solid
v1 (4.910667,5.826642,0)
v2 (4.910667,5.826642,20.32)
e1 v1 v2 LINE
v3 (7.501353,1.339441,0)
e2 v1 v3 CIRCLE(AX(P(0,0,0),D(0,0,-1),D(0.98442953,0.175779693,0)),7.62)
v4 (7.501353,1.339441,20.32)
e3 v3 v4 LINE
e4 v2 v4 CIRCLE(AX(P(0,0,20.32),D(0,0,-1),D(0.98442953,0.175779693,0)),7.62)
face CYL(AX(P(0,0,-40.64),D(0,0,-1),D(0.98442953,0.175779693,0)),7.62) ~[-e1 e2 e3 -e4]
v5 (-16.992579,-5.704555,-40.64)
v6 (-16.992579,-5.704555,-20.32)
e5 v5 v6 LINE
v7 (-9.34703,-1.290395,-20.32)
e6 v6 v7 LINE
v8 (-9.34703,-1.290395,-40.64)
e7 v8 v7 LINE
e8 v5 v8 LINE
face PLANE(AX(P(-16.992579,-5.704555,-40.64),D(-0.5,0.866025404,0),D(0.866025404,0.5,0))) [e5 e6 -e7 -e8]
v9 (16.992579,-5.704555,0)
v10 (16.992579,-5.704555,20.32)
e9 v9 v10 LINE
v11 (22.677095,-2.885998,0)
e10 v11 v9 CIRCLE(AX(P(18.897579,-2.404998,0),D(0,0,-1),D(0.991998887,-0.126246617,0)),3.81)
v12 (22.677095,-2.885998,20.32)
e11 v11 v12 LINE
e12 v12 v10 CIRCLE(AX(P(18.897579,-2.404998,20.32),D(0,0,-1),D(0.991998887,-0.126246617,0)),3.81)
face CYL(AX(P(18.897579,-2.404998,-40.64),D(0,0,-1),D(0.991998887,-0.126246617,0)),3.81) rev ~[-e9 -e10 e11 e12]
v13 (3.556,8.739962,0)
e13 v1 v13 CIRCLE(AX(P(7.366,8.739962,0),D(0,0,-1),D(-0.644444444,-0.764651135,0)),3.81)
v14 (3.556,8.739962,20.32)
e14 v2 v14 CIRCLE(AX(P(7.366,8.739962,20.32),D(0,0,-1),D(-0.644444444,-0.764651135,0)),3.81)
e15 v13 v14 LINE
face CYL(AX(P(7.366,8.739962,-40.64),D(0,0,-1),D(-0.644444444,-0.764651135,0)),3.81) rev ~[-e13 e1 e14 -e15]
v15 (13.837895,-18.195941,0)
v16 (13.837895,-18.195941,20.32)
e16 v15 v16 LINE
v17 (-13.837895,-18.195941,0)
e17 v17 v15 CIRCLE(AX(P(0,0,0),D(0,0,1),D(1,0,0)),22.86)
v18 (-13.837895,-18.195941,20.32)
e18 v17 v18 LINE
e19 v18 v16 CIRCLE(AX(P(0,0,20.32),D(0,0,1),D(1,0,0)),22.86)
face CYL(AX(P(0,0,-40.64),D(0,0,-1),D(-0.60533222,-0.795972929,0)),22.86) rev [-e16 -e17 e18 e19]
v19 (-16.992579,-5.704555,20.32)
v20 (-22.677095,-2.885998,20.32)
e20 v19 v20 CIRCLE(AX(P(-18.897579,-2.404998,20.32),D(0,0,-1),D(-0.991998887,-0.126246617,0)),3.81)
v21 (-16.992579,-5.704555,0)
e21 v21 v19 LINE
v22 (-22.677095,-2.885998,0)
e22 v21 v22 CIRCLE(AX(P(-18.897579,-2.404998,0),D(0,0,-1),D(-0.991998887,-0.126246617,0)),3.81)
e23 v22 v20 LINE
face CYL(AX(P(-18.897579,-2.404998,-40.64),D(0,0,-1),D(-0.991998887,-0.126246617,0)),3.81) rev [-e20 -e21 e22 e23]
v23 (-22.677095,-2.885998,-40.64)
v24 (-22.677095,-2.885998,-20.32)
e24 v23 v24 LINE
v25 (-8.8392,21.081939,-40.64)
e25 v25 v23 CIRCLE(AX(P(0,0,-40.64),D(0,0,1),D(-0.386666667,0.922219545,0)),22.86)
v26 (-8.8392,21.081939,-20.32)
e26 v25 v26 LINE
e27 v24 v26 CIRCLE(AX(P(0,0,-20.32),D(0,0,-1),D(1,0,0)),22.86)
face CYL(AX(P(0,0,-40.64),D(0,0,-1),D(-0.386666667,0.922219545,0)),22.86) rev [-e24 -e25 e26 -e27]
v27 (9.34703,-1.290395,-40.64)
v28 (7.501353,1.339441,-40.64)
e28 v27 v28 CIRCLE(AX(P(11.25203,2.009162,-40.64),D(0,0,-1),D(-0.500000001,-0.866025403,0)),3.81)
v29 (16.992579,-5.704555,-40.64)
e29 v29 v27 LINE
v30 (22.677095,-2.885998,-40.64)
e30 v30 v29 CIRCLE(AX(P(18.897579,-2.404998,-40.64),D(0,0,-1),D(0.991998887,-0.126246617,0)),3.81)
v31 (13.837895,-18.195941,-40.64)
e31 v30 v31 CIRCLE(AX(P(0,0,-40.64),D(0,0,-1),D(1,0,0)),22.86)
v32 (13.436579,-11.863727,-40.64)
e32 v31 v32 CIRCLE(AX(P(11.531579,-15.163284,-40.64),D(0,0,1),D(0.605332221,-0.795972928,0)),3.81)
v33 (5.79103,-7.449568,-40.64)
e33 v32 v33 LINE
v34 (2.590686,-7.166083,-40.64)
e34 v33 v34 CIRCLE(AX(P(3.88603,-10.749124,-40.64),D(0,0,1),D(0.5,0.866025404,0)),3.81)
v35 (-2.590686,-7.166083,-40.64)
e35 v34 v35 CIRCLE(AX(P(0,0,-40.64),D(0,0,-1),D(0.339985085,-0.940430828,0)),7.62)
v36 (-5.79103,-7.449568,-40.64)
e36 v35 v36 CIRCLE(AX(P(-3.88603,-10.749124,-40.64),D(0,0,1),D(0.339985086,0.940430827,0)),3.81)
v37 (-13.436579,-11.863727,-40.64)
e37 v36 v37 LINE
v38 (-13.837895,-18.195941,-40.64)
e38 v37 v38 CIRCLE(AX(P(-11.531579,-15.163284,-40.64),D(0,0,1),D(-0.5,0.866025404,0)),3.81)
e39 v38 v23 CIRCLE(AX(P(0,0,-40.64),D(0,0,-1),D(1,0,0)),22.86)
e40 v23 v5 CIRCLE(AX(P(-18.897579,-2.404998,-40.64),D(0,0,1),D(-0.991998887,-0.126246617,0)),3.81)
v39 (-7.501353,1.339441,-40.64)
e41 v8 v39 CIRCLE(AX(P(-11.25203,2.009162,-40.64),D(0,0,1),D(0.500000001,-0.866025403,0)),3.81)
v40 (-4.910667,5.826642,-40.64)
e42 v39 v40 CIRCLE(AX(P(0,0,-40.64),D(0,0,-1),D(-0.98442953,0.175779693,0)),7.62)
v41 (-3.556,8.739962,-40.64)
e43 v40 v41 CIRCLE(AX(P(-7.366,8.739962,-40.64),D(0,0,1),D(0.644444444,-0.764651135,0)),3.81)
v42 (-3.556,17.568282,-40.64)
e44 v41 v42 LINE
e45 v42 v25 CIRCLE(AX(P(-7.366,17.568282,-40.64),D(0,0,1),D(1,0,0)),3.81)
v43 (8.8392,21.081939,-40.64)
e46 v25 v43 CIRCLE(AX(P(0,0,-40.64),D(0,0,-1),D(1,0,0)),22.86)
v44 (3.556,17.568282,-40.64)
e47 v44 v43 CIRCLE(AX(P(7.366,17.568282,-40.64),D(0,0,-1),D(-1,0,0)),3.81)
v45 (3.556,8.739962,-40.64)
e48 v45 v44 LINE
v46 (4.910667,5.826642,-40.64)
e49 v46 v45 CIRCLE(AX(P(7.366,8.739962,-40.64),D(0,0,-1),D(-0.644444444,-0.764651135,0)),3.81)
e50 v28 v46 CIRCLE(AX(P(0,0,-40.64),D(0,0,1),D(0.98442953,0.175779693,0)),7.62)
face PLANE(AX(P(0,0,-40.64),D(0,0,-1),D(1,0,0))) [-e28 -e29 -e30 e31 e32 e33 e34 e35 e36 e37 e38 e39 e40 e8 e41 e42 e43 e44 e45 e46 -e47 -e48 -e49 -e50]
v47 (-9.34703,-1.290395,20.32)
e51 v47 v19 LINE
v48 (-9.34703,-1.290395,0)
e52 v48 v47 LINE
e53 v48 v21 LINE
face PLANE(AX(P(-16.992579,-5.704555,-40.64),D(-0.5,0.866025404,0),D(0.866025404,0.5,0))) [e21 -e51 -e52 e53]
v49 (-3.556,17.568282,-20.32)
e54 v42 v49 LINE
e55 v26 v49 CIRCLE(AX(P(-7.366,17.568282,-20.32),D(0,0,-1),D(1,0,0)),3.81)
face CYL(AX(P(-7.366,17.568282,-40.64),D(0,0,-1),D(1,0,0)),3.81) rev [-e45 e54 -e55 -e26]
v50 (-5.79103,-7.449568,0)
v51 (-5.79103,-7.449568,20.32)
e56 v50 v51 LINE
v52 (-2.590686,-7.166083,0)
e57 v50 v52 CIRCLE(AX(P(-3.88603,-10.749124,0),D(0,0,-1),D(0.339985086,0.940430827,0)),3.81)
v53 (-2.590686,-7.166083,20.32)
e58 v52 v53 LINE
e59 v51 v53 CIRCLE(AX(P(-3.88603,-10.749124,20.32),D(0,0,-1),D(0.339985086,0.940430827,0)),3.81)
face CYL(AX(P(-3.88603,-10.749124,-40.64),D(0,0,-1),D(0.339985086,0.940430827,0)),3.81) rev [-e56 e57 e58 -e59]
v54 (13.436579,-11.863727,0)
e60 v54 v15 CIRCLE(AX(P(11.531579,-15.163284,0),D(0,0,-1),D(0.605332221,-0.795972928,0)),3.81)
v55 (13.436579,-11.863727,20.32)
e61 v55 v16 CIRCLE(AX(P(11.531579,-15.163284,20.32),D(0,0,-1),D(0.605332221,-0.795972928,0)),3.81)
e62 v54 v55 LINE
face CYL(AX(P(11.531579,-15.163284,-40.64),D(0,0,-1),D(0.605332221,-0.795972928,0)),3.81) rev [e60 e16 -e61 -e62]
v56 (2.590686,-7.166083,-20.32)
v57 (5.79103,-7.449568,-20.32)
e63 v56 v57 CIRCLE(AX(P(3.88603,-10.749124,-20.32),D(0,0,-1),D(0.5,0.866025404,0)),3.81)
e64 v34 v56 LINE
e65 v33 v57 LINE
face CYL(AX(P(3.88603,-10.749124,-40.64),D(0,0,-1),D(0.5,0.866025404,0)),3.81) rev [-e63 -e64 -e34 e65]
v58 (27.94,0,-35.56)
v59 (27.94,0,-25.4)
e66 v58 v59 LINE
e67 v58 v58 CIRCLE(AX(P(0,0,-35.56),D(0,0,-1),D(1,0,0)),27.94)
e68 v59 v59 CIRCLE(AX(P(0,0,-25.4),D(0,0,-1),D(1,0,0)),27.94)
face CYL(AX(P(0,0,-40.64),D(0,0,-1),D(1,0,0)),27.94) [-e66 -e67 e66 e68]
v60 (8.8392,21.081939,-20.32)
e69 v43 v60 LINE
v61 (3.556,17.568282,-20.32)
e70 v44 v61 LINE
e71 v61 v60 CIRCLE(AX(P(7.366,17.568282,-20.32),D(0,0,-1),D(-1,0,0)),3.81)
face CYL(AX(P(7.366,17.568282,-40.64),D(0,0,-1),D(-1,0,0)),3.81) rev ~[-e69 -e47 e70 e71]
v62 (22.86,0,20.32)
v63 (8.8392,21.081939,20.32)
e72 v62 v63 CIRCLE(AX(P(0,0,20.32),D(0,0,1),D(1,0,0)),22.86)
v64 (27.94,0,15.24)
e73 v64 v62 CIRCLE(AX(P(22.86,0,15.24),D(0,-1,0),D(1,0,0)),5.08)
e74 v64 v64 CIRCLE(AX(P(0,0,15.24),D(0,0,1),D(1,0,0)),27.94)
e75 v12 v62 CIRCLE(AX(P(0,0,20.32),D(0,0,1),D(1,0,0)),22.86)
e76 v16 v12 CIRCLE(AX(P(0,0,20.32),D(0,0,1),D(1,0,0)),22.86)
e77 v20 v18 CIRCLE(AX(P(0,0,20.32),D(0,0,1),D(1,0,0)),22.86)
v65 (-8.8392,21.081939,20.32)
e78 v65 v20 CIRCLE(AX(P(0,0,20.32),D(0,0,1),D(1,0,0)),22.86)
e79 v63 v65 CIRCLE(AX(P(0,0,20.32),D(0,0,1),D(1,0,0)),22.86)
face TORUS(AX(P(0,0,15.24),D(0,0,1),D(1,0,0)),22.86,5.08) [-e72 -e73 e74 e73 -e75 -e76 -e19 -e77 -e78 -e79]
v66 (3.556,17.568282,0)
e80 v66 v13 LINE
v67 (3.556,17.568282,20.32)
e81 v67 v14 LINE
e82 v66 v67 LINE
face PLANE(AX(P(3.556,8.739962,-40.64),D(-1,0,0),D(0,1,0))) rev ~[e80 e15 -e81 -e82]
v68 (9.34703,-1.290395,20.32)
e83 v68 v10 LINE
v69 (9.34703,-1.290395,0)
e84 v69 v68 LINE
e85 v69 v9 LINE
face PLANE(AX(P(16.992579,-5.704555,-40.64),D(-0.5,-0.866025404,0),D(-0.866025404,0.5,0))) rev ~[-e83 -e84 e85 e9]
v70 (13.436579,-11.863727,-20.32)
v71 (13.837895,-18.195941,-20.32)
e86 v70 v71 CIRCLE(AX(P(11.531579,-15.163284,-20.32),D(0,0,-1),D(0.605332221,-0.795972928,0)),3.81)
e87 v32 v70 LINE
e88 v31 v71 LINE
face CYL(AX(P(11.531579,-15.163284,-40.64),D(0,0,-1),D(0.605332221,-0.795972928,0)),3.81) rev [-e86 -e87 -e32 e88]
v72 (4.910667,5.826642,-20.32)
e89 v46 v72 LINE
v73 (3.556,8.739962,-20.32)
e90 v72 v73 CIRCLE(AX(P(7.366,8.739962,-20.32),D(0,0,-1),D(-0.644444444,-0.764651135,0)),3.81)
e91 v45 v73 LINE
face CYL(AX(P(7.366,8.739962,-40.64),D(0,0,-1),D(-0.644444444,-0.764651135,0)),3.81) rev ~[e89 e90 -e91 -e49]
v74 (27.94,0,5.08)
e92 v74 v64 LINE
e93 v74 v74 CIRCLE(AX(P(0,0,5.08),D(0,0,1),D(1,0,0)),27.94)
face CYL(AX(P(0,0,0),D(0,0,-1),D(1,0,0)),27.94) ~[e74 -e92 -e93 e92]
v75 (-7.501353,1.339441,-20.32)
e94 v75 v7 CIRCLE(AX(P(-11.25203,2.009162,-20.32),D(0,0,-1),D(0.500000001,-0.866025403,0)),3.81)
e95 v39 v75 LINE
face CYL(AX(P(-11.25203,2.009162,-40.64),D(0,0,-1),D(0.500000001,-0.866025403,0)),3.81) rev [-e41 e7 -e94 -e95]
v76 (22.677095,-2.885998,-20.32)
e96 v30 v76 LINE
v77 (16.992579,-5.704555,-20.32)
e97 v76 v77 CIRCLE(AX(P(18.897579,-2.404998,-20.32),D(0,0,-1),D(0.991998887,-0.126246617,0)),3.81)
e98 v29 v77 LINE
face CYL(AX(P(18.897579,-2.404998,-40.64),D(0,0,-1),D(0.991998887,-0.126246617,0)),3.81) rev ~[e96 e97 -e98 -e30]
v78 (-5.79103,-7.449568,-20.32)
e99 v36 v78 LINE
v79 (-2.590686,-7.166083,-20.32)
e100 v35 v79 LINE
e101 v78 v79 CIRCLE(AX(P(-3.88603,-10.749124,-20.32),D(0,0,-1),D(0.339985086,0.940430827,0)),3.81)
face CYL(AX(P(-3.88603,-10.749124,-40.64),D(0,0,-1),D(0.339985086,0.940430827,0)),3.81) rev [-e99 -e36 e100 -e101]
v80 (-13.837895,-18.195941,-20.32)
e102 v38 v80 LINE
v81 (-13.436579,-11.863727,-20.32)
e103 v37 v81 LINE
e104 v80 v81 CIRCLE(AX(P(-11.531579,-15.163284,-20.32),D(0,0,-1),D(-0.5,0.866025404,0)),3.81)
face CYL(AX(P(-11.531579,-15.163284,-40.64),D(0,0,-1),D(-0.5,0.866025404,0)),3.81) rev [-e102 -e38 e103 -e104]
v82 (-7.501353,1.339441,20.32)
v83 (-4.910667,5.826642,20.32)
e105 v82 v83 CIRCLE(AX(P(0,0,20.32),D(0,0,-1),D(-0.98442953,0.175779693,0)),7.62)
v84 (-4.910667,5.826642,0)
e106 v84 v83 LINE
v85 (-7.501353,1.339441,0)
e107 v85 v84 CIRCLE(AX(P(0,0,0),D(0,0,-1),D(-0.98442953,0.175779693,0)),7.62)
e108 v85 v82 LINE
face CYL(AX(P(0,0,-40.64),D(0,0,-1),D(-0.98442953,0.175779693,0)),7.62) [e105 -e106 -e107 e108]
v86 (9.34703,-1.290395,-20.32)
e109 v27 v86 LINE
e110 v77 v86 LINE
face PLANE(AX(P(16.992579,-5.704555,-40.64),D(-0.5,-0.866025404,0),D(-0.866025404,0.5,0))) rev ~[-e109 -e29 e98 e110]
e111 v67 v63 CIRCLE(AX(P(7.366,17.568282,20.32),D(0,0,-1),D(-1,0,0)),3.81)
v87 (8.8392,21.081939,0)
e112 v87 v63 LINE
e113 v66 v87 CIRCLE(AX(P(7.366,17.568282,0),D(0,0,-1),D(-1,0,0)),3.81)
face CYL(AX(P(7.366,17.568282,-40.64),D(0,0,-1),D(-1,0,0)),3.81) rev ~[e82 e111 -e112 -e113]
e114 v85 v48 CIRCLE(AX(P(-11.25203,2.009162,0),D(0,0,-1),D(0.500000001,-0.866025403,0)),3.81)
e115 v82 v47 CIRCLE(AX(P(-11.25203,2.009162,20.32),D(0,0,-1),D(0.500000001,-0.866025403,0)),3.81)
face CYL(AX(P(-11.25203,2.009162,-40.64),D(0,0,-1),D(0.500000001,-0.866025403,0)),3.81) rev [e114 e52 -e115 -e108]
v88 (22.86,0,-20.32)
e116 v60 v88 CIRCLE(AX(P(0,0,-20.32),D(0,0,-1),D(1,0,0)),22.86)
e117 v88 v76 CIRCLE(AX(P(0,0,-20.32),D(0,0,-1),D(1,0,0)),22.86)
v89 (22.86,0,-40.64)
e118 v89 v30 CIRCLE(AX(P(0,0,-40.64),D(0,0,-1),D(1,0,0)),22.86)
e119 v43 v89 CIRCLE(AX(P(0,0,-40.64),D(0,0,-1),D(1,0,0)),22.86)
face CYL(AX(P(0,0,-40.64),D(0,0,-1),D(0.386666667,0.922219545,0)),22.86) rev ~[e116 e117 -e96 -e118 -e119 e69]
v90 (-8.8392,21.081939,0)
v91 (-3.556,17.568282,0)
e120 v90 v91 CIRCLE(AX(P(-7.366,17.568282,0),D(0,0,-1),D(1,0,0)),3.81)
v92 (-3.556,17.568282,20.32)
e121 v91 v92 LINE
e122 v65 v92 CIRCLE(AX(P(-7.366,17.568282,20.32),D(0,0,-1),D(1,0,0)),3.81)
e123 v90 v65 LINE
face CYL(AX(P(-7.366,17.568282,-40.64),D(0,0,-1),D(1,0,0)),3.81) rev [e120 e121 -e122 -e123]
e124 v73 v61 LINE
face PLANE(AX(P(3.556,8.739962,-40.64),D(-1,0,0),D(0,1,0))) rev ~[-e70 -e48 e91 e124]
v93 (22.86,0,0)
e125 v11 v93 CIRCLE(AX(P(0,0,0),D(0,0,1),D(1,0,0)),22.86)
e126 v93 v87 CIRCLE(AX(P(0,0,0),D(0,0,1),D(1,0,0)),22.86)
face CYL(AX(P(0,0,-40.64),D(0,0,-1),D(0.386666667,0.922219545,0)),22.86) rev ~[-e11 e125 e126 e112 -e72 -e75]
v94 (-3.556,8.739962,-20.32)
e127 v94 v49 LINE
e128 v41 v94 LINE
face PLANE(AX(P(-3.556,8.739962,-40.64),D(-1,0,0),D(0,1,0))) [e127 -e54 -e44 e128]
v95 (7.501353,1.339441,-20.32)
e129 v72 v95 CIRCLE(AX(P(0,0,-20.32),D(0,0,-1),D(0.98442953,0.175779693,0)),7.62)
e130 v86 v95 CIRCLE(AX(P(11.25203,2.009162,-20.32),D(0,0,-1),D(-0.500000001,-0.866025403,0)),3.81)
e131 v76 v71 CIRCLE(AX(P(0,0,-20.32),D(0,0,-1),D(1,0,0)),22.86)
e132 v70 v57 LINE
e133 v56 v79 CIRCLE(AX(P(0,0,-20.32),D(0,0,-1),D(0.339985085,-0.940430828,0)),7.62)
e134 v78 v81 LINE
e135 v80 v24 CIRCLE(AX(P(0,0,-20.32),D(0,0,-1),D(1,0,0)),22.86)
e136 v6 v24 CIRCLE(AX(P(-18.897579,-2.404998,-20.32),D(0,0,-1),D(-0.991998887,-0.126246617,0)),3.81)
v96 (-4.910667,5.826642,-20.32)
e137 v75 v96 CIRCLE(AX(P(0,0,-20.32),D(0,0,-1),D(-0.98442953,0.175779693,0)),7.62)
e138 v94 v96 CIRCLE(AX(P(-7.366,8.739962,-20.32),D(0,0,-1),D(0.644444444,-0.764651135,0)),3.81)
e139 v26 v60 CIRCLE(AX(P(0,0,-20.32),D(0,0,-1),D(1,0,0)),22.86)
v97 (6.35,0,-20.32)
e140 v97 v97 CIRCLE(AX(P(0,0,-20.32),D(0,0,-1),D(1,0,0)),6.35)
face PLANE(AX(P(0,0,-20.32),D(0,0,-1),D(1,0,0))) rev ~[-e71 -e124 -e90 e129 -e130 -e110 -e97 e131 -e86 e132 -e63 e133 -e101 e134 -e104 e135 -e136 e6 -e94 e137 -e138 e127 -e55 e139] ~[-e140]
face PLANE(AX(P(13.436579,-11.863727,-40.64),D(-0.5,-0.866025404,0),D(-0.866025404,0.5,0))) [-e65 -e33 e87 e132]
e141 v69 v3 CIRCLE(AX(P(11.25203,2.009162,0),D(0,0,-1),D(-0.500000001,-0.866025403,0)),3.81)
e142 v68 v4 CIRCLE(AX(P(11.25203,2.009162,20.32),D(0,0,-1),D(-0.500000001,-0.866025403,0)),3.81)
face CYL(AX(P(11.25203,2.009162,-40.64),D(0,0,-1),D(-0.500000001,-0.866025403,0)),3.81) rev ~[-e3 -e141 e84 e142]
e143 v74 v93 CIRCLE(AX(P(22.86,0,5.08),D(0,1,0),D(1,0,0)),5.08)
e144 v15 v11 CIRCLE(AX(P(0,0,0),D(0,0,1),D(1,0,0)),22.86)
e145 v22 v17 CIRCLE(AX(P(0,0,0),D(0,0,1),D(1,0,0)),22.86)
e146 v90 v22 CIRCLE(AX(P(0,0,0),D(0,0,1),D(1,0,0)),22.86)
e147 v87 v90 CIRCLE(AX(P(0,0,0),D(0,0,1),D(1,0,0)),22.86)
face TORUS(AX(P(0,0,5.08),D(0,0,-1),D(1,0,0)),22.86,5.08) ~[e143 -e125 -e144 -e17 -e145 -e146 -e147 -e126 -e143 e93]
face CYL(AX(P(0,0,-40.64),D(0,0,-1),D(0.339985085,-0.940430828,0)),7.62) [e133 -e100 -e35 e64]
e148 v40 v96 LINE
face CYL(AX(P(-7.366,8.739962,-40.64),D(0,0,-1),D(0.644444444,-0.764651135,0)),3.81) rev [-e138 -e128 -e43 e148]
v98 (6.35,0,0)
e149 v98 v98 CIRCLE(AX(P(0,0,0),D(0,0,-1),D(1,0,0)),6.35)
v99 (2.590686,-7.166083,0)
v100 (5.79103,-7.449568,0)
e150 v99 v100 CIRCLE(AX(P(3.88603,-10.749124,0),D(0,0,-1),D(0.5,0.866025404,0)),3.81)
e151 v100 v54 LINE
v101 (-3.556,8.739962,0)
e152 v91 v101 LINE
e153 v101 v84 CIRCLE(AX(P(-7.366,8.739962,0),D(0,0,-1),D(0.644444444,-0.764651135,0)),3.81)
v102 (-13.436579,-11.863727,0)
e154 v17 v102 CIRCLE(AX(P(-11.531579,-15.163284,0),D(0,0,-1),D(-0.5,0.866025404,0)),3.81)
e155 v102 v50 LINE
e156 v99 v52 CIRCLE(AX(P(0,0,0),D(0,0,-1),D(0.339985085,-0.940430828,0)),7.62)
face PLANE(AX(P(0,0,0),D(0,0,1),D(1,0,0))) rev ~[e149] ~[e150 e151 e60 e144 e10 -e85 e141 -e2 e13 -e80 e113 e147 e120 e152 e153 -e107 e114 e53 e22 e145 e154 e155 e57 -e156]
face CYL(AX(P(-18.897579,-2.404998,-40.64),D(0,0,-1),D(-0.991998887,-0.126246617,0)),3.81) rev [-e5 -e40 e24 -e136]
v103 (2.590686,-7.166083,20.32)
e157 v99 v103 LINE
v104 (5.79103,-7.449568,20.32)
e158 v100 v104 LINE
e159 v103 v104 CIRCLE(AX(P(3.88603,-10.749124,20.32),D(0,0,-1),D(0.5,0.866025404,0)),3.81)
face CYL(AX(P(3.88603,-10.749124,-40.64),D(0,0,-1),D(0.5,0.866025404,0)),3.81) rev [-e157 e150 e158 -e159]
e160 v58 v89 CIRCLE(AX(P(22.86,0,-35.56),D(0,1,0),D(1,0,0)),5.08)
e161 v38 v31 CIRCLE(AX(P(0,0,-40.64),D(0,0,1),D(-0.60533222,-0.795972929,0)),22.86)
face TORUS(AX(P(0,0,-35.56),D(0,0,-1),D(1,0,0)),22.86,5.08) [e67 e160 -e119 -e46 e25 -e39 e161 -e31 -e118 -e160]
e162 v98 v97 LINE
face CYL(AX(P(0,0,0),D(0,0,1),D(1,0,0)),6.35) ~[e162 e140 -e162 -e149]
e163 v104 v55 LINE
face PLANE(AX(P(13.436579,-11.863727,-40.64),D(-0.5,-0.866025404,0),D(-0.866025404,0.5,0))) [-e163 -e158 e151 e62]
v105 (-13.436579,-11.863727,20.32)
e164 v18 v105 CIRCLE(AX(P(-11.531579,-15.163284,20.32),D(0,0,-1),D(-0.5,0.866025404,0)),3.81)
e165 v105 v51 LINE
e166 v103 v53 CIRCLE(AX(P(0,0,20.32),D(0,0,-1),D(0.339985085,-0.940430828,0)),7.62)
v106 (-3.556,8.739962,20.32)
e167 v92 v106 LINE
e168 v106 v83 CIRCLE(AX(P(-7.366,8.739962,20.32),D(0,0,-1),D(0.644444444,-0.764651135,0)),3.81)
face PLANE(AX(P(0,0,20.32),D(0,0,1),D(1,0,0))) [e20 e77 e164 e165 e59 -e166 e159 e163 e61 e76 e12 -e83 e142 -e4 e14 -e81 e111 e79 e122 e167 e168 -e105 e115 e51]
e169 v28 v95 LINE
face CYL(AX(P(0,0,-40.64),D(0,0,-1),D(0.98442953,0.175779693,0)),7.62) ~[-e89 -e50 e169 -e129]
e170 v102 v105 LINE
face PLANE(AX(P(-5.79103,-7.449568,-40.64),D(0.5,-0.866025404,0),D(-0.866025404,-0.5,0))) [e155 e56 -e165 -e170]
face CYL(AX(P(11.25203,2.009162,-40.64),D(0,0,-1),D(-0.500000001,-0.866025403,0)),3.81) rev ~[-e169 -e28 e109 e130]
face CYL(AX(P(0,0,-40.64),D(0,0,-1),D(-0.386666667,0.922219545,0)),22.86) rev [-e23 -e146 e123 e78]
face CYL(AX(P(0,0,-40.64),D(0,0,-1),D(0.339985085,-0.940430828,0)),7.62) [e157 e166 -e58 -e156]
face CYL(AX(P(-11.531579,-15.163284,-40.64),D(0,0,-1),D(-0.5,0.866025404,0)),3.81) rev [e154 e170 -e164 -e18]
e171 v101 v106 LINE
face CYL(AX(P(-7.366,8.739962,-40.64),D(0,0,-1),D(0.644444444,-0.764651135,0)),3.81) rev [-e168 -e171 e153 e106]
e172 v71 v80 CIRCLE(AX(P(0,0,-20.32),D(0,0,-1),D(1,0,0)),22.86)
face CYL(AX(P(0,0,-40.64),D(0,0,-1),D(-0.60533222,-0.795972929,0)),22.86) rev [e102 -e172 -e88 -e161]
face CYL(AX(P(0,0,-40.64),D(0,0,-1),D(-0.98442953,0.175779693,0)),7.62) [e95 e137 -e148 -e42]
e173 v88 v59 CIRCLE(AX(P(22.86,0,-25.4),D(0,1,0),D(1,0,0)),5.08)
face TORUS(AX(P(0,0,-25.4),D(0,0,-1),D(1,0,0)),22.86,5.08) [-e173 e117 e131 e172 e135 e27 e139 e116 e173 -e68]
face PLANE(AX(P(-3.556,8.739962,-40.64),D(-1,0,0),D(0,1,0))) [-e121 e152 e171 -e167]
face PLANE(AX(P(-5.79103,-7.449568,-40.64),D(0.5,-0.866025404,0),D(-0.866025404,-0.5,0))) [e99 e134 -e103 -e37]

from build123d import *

# Parameters (mm, degrees)
SKETCH1_R           = 27.94
BOSS_EXTRUDE1_DEPTH = 20.32
SKETCH2_R           = 6.35
BOSS_EXTRUDE2_DEPTH = 20.32
BOSS_EXTRUDE3_START = 20.32
SKETCH3_R           = 27.94
BOSS_EXTRUDE3_DEPTH = 20.32
FILLET1_R           = 5.08
FILLET2_R           = 5.08
FILLET3_R           = 5.08
FILLET4_R           = 5.08
CUT_EXTRUDE1_DEPTH  = 73.645776241


with BuildPart() as part:
    # Sketch1 → Boss-Extrude1 (new body)
    with BuildSketch(Plane.XY):
        Circle(SKETCH1_R)
    extrude(amount=BOSS_EXTRUDE1_DEPTH)

    # Sketch2 → Boss-Extrude2 (add)
    with BuildSketch(Plane(origin=(0, 0, 0), x_dir=(-1, 0, 0), z_dir=(0, 0, -1))):
        with Locations(Location((0, 0, 0), (0, 0, 180))):
            Circle(SKETCH2_R)
    extrude(amount=BOSS_EXTRUDE2_DEPTH)

    # Sketch3 → Boss-Extrude3 (add)
    with BuildSketch(Plane(origin=(0, 0, -20.32), x_dir=(-1, 0, 0), z_dir=(0, 0, -1)).offset(BOSS_EXTRUDE3_START)):
        with Locations(Location((0, 0, 0), (0, 0, 180))):
            Circle(SKETCH3_R)
    extrude(amount=-BOSS_EXTRUDE3_DEPTH)

    # Fillet1
    fillet1_edges = [part.edges().sort_by_distance(p)[0] for p in [
        (-27.94, 0, 20.32),
    ]]
    fillet(fillet1_edges, radius=FILLET1_R)

    # Fillet2
    fillet2_edges = [part.edges().sort_by_distance(p)[0] for p in [
        (-27.94, 0, 0),
    ]]
    fillet(fillet2_edges, radius=FILLET2_R)

    # Fillet3
    fillet3_edges = [part.edges().sort_by_distance(p)[0] for p in [
        (-27.94, 0, -20.32),
    ]]
    fillet(fillet3_edges, radius=FILLET3_R)

    # Fillet4
    fillet4_edges = [part.edges().sort_by_distance(p)[0] for p in [
        (-27.94, 0, -40.64),
    ]]
    fillet(fillet4_edges, radius=FILLET4_R)

    # Sketch4 → Cut-Extrude1 (cut, through all)
    with BuildSketch(Plane(origin=(0, 0, -40.64), x_dir=(-1, 0, 0), z_dir=(0, 0, -1))):
        with BuildLine():
            Line((-3.556, 8.739962471), (-3.556, 17.568282329))
            ThreePointArc((-3.556, 17.568282329), (-5.256117539, 20.740741312), (-8.8392, 21.081938795))
            ThreePointArc((-8.8392, 21.081938795), (-19.797340731, 11.43), (-22.677094558, -2.885997648))
            ThreePointArc((-22.677094558, -2.885997648), (-20.590067639, -5.818439342), (-16.992578798, -5.704554829))
            Line((-16.992578798, -5.704554829), (-9.347029528, -1.2903949))
            ThreePointArc((-9.347029528, -1.2903949), (-8.133427478, -0.179541209), (-7.501353019, 1.339441259))
            ThreePointArc((-7.501353019, 1.339441259), (-6.599113577, 3.81), (-4.910666667, 5.826641648))
            ThreePointArc((-4.910666667, 5.826641648), (-3.911226491, 7.13352542), (-3.556, 8.739962471))
        make_face()
        with BuildLine():
            Line((3.556, 8.739962471), (3.556, 17.568282329))
            ThreePointArc((3.556, 17.568282329), (5.256117539, 20.740741312), (8.8392, 21.081938795))
            ThreePointArc((8.8392, 21.081938795), (19.797340731, 11.43), (22.677094558, -2.885997648))
            ThreePointArc((22.677094558, -2.885997648), (20.590067639, -5.818439342), (16.992578798, -5.704554829))
            Line((16.992578798, -5.704554829), (9.347029528, -1.2903949))
            ThreePointArc((9.347029528, -1.2903949), (8.133427478, -0.179541209), (7.501353019, 1.339441259))
            ThreePointArc((7.501353019, 1.339441259), (6.599113577, 3.81), (4.910666667, 5.826641648))
            ThreePointArc((4.910666667, 5.826641648), (3.911226491, 7.13352542), (3.556, 8.739962471))
        make_face()
        with BuildLine():
            Line((5.791029528, -7.449567572), (13.436578798, -11.8637275))
            ThreePointArc((13.436578798, -11.8637275), (15.3339501, -14.92230197), (13.837894558, -18.195941147))
            ThreePointArc((13.837894558, -18.195941147), (0, -22.86), (-13.837894558, -18.195941147))
            ThreePointArc((-13.837894558, -18.195941147), (-15.3339501, -14.92230197), (-13.436578798, -11.8637275))
            Line((-13.436578798, -11.8637275), (-5.791029528, -7.449567572))
            ThreePointArc((-5.791029528, -7.449567572), (-4.222200987, -6.953984211), (-2.590686352, -7.166082907))
            ThreePointArc((-2.590686352, -7.166082907), (0, -7.62), (2.590686352, -7.166082907))
            ThreePointArc((2.590686352, -7.166082907), (4.222200987, -6.953984211), (5.791029528, -7.449567572))
        make_face()
    extrude(amount=-CUT_EXTRUDE1_DEPTH, mode=Mode.SUBTRACT)


solid = part.part
